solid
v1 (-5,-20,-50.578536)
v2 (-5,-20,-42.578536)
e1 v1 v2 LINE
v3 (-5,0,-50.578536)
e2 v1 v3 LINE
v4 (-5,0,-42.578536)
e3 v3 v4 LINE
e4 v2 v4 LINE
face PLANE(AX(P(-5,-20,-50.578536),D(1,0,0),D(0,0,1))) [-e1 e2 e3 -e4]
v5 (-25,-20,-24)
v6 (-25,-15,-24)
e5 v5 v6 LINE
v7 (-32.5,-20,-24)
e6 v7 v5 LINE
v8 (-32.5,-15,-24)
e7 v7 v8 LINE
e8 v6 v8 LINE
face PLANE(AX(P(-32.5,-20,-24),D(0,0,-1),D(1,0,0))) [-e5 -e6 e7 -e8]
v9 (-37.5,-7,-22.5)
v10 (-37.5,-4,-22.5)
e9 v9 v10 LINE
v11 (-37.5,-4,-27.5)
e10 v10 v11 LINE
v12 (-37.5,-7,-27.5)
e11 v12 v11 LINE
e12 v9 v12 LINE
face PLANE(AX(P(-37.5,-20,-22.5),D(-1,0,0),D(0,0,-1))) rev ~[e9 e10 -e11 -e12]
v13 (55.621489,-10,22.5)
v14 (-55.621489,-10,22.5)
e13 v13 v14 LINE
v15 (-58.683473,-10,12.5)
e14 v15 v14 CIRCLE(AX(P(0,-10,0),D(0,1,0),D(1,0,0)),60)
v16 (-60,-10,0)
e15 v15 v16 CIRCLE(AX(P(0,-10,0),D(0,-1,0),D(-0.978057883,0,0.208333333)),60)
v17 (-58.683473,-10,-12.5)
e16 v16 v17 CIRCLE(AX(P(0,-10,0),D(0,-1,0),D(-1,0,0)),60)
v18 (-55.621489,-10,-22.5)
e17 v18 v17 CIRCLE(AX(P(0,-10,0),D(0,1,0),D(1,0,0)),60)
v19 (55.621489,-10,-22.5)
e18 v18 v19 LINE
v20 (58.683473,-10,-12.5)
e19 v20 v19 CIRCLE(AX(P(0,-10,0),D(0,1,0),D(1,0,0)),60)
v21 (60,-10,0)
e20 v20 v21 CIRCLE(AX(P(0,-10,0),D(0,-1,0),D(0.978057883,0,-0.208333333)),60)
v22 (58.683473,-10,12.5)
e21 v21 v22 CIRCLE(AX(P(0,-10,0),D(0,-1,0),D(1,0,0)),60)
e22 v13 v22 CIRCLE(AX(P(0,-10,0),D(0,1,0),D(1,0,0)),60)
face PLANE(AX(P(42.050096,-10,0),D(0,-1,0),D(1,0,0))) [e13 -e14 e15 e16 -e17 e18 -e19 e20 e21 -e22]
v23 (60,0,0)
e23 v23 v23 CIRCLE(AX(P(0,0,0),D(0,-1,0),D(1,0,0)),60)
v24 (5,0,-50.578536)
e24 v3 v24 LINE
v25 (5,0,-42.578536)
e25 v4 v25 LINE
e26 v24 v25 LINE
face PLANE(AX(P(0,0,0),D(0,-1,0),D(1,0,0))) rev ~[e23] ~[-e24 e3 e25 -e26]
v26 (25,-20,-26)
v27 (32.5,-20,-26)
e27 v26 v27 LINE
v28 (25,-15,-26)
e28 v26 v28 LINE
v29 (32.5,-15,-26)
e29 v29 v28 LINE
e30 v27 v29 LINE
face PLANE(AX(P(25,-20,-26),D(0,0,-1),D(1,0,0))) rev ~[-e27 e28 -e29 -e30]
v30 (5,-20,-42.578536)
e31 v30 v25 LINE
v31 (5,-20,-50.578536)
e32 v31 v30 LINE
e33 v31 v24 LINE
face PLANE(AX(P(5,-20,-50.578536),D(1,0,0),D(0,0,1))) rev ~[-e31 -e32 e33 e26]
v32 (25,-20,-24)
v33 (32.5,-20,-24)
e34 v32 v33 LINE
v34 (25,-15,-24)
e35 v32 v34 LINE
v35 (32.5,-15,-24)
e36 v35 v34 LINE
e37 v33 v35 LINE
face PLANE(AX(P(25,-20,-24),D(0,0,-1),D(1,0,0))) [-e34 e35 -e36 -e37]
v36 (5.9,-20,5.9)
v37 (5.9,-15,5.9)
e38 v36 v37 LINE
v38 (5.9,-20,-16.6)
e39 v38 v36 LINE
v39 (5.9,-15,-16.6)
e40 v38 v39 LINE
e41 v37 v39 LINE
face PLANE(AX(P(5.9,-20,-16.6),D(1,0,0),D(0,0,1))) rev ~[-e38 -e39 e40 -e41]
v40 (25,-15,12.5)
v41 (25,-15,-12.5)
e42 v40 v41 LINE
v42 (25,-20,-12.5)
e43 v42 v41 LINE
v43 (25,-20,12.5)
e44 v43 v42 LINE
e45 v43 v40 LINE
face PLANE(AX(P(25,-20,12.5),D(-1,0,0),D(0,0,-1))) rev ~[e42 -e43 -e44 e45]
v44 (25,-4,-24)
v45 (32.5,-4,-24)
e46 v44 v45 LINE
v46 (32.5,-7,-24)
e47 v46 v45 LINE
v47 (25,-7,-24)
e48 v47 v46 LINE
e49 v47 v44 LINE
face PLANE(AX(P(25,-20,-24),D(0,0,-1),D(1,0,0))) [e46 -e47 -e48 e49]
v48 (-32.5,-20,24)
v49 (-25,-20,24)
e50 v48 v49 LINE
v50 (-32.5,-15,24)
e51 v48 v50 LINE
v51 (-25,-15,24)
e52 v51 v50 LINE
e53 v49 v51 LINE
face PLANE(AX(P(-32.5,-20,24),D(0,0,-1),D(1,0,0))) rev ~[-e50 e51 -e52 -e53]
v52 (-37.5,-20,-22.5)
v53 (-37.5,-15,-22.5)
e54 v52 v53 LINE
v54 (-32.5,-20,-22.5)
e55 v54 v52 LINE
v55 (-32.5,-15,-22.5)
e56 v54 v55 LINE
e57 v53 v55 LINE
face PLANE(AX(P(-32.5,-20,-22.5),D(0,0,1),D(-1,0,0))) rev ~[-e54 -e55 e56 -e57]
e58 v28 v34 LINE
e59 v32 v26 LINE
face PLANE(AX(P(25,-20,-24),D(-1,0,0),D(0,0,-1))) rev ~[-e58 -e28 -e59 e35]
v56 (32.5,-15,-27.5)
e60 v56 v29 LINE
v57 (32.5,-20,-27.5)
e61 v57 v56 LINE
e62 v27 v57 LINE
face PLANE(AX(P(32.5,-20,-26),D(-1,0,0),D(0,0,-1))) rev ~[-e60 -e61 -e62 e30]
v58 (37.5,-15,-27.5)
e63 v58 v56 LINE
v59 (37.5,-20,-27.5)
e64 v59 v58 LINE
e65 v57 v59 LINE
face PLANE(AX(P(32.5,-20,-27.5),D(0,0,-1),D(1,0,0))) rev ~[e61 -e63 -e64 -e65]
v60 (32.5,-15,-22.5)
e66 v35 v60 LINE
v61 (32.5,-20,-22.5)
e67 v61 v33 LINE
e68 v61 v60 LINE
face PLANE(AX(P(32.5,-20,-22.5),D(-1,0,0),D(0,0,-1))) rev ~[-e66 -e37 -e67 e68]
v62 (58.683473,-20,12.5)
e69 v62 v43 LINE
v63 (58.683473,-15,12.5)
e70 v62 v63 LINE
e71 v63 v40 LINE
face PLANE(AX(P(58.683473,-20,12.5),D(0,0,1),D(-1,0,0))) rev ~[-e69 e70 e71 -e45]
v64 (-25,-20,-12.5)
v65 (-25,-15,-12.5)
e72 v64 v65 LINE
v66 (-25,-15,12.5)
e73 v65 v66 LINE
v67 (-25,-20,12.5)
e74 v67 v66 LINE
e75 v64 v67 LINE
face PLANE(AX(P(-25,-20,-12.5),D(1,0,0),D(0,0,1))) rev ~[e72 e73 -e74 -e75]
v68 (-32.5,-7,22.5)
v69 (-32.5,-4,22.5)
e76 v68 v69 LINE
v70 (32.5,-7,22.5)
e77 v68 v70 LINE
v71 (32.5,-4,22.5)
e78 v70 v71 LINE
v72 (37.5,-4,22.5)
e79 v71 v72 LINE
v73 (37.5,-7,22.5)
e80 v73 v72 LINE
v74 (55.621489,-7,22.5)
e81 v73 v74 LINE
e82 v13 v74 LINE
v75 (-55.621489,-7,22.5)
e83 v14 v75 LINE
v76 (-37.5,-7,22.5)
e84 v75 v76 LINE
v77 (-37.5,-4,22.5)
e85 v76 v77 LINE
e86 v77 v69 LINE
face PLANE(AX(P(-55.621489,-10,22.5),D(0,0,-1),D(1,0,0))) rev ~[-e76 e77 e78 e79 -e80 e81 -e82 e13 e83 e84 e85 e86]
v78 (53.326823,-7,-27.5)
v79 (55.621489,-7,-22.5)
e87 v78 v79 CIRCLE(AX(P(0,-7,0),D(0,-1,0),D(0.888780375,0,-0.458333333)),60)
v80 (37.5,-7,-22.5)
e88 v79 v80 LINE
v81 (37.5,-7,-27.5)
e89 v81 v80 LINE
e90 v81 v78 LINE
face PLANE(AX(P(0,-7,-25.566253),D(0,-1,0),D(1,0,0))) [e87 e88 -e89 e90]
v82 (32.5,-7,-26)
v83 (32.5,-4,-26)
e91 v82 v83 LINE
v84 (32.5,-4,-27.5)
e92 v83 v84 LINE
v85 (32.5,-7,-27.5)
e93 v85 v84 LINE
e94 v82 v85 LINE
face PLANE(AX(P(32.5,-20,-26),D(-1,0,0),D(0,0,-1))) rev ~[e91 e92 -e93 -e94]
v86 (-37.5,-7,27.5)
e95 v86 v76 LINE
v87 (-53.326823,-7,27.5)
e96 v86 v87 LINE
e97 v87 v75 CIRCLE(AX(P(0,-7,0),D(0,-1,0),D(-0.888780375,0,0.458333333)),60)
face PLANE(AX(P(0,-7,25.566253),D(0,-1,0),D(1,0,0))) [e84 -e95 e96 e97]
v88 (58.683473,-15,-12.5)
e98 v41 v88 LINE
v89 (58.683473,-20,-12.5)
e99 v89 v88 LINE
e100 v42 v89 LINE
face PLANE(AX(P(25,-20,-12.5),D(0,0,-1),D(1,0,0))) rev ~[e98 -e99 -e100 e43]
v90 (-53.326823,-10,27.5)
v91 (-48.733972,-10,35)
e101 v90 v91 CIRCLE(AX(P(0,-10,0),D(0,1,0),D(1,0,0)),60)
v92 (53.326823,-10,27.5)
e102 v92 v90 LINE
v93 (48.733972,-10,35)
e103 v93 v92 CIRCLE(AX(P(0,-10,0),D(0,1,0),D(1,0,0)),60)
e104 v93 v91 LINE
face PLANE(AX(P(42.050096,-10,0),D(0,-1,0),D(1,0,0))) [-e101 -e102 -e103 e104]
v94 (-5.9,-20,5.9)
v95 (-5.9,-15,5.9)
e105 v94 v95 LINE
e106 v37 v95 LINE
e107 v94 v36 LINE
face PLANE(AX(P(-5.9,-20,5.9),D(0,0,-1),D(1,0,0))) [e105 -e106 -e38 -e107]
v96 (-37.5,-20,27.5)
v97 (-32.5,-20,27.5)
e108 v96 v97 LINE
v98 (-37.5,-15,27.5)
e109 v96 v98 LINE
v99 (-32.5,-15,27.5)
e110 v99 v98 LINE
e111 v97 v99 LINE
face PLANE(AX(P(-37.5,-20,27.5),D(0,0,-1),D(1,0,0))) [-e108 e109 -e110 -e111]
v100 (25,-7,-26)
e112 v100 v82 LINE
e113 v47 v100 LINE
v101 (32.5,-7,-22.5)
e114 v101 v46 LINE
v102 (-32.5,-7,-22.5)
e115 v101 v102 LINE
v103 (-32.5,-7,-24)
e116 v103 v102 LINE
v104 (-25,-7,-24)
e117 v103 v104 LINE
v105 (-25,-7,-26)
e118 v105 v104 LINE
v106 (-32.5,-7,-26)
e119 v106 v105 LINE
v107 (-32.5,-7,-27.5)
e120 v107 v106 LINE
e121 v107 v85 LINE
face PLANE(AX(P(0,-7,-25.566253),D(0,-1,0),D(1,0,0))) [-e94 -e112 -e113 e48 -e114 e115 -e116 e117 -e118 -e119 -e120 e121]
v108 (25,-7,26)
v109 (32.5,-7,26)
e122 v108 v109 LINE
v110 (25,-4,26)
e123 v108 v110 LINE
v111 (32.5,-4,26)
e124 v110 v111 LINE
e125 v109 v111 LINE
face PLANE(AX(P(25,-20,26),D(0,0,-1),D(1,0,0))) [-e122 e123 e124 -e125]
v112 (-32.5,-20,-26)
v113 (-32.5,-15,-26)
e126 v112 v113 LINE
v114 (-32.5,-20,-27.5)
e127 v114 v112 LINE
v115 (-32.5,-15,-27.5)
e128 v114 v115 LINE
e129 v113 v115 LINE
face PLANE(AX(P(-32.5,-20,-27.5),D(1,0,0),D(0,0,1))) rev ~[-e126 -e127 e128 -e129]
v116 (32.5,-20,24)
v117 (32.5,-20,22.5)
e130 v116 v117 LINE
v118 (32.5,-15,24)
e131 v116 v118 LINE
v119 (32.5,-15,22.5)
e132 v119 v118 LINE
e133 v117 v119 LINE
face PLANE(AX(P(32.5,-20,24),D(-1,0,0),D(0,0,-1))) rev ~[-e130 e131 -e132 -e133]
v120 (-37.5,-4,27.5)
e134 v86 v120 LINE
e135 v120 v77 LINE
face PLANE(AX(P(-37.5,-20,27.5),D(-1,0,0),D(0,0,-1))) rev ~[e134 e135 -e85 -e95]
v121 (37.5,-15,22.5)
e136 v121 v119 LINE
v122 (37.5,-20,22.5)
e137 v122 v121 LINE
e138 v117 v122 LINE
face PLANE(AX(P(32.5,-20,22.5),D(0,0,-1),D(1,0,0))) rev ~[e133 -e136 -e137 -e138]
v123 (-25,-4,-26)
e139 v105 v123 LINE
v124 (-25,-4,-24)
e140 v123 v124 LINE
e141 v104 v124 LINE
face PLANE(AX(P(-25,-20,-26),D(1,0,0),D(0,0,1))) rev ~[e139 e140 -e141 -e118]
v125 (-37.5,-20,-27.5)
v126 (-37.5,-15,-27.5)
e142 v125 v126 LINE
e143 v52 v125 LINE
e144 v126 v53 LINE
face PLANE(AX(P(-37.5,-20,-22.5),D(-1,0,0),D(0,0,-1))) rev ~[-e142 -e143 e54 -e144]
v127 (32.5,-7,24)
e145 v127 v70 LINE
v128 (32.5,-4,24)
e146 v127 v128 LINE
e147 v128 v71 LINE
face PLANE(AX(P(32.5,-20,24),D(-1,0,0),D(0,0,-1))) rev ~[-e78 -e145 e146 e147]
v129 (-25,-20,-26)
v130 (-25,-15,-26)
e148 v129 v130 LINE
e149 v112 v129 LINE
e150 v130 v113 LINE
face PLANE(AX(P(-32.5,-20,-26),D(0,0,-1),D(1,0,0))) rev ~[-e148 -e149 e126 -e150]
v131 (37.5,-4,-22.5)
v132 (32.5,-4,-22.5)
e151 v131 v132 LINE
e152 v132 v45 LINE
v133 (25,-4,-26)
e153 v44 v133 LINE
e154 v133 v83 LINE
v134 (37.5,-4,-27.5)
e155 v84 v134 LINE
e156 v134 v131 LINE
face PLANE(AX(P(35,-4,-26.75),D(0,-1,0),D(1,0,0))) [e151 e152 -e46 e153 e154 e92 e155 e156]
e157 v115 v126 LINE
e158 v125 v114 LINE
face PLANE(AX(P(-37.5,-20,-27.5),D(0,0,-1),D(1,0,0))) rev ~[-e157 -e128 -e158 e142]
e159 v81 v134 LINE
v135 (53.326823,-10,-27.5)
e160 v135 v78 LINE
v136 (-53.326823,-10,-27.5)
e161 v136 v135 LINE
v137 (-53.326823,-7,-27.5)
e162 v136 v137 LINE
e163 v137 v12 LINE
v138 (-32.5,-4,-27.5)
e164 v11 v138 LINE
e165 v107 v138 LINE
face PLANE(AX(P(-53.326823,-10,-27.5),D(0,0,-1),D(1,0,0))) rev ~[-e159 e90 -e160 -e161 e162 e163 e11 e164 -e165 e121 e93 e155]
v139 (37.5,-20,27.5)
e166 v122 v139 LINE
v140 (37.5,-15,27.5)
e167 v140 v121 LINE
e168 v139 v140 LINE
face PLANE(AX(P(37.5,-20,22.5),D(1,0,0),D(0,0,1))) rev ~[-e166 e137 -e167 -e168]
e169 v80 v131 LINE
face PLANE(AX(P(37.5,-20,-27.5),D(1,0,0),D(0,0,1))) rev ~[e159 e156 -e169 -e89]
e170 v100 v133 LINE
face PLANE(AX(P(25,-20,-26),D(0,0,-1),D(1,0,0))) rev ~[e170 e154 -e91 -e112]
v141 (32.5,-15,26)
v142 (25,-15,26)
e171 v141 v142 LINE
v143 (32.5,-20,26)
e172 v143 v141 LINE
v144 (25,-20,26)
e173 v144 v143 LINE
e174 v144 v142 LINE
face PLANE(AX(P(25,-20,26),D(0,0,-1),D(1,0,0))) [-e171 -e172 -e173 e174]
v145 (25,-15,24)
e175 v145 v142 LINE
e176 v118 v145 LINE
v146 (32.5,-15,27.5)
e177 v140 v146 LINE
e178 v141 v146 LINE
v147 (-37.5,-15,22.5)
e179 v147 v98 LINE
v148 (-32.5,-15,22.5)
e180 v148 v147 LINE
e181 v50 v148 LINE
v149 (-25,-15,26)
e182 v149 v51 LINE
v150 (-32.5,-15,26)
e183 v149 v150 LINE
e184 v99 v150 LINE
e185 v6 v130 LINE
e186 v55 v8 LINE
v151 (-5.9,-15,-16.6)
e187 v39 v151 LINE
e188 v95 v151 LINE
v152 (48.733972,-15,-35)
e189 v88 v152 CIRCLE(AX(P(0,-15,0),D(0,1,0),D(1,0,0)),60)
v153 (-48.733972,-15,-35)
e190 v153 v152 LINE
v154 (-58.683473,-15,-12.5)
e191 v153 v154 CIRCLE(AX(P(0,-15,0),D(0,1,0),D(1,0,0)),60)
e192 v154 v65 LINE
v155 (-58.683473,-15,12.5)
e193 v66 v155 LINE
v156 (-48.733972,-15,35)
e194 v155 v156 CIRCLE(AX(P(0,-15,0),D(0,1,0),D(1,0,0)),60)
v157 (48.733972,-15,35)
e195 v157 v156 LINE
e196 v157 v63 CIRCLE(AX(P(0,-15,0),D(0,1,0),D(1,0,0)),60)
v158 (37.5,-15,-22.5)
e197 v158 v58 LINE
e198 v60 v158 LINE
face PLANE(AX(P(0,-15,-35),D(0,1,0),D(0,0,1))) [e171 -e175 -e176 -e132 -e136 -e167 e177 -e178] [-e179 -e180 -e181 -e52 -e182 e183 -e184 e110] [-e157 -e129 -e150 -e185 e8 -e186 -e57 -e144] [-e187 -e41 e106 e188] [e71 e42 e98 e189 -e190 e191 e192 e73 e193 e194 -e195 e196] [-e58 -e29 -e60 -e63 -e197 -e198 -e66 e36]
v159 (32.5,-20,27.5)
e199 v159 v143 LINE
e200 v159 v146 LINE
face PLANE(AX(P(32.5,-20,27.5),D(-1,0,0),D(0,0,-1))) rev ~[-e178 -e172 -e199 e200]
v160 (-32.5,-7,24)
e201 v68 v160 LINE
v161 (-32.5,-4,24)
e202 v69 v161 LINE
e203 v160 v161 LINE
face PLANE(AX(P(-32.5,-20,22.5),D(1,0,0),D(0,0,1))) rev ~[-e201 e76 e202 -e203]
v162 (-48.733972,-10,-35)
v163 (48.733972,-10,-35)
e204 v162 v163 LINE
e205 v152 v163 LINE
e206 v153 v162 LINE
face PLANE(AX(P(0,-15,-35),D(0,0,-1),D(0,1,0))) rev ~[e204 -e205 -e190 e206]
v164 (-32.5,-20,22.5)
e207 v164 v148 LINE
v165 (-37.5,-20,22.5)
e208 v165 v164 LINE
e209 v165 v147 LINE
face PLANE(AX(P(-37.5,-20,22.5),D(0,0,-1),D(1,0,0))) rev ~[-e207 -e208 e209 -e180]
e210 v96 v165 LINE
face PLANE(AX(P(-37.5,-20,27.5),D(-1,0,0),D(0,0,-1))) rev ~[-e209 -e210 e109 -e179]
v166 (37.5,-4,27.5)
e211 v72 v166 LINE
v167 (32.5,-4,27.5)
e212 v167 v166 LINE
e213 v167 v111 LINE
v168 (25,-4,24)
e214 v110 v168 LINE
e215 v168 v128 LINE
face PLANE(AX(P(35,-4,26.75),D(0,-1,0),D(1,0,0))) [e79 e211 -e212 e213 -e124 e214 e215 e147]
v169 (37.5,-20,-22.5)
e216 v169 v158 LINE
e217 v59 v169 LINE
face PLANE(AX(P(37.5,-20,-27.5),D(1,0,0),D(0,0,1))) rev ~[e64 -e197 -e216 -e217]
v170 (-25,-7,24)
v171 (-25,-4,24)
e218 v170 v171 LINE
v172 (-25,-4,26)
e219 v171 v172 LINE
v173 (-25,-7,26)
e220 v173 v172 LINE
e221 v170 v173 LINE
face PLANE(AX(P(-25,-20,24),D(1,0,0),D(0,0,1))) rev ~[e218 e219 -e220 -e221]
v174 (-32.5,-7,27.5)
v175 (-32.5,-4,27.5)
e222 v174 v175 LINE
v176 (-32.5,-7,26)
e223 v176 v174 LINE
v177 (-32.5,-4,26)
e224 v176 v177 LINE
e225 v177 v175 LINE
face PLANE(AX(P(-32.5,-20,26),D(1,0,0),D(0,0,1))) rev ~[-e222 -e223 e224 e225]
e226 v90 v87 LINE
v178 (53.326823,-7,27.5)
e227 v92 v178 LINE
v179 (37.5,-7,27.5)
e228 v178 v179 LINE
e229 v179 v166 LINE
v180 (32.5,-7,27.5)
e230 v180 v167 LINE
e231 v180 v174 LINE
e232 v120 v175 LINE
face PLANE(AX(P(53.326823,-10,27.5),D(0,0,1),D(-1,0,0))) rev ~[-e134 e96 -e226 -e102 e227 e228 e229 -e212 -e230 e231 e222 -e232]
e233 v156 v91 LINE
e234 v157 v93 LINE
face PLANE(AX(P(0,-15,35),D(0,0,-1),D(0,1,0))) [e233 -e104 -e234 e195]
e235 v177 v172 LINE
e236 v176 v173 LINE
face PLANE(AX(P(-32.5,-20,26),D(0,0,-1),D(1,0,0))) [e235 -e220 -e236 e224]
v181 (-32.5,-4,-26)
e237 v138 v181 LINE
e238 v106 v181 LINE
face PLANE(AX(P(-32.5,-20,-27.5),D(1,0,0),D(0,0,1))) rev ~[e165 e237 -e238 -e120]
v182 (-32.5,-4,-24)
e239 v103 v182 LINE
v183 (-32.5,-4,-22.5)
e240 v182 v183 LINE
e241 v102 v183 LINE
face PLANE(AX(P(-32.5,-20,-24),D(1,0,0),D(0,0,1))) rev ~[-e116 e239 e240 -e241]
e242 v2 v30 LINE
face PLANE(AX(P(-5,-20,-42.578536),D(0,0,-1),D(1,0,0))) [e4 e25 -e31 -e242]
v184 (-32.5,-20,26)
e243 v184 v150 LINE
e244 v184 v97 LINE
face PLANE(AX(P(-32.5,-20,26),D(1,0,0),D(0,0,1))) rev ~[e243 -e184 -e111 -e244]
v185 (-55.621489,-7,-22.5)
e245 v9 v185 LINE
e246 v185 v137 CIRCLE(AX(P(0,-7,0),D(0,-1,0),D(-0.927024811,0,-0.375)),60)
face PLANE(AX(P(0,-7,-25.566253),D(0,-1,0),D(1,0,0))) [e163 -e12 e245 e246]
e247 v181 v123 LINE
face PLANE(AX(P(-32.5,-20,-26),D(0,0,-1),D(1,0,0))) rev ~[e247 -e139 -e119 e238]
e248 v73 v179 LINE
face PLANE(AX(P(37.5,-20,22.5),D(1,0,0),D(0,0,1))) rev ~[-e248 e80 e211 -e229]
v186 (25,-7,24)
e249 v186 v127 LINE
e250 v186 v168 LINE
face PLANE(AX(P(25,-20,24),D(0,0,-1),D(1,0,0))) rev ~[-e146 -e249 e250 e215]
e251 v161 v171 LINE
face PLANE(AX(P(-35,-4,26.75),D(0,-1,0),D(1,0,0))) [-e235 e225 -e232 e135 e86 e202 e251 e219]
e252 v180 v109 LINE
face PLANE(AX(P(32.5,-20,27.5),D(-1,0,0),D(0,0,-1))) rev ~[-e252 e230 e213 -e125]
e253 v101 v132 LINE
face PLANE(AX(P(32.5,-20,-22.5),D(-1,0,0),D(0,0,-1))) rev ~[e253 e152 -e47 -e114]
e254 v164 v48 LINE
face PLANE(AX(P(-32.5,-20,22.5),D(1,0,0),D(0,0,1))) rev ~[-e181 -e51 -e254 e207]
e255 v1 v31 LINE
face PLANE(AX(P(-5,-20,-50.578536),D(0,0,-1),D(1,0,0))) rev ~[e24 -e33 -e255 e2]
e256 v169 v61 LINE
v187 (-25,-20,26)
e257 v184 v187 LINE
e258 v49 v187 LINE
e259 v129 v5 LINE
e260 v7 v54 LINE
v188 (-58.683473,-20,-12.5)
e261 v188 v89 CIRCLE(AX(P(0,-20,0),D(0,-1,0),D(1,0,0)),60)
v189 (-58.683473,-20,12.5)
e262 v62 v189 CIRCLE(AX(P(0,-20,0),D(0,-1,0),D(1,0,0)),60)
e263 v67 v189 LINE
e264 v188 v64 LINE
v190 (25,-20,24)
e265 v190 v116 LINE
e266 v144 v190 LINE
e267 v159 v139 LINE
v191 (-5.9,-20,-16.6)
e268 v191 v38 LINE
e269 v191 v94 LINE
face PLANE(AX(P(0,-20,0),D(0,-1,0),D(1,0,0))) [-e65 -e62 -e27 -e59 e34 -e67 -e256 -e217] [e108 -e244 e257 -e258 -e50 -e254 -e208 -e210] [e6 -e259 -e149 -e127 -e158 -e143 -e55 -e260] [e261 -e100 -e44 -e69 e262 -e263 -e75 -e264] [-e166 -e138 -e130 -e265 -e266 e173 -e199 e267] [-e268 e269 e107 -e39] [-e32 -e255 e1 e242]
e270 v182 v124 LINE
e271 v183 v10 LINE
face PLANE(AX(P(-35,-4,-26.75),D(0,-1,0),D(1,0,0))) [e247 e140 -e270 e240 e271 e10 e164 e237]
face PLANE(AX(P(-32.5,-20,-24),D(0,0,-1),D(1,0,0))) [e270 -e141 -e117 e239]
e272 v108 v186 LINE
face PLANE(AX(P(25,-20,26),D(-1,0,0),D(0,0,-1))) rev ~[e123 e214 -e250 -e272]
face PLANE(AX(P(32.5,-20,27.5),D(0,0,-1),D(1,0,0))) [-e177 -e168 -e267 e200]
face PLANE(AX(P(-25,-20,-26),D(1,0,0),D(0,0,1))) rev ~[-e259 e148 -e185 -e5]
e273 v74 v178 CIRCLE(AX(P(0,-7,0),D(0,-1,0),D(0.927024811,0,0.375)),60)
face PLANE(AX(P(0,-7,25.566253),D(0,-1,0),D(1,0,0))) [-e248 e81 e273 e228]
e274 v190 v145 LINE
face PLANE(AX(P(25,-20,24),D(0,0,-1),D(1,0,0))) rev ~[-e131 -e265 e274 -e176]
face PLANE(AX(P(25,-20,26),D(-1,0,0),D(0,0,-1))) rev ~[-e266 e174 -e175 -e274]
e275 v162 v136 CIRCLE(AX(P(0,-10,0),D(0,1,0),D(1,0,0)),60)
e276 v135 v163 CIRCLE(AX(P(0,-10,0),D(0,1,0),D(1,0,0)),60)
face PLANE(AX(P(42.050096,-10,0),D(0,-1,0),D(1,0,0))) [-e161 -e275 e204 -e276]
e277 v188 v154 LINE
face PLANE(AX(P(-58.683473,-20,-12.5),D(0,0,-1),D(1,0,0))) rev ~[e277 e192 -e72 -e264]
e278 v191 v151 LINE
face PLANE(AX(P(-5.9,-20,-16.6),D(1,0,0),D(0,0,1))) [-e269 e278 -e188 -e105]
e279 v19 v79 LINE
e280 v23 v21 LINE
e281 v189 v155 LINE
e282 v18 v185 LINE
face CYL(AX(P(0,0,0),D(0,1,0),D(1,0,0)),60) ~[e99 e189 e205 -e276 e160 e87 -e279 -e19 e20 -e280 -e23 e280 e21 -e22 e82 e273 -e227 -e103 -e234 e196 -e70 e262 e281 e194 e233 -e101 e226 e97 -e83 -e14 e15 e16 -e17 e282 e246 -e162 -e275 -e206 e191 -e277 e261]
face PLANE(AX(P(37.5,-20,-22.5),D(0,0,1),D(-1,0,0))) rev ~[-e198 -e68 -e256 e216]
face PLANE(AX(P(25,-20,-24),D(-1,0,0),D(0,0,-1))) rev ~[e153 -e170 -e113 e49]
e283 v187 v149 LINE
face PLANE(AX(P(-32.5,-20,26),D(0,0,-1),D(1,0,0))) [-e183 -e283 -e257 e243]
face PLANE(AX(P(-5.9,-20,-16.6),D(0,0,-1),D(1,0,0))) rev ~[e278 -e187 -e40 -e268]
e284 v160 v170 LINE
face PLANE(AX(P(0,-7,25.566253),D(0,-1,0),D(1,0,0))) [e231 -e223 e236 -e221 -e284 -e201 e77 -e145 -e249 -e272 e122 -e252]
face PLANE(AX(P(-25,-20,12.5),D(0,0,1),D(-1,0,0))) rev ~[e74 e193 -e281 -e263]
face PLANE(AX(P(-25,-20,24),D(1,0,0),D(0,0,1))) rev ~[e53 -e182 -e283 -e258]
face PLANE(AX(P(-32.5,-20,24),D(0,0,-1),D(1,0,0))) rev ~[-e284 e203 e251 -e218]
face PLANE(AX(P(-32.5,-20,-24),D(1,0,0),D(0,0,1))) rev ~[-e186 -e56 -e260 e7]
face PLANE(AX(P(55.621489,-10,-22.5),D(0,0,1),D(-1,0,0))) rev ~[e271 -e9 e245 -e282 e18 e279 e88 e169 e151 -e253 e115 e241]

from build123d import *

# Parameters (mm, degrees)
F0_R      = 60
F1_DEPTH  = 20
F3_DEPTH  = 10
F4_W      = 5
F4_H      = 70
F5_DEPTH  = 60
F7_DEPTH  = 3
F8_W      = 11.8
F8_H      = 22.5
F9_DEPTH  = 6
F10_W     = 5
F10_H     = 1.5
F10_W_2   = 2.5
F10_H_2   = 1
F10_W_3   = 7.5
F11_DEPTH = 16
F12_W     = 10
F12_H     = 8
F13_DEPTH = 20.001


with BuildPart() as f1:
    # F0 (on Front) → F1 (new body)
    with BuildSketch(Plane.XZ):
        Circle(F0_R)
    extrude(amount=F1_DEPTH)

    # F2 (on face) → F3 (cut)
    with BuildSketch(Plane.XZ.offset(20)):
        with BuildLine():
            Line((-25, -12.5), (-25, 12.5))
            Line((-25, 12.5), (-58.6834729715, 12.5))
            ThreePointArc((-58.6834729715, 12.5), (-59.6699605258, 6.2845692656), (-60, 0))
            ThreePointArc((-60, 0), (-59.6699605258, -6.2845692656), (-58.6834729715, -12.5))
            Line((-58.6834729715, -12.5), (-25, -12.5))
        make_face()
        with BuildLine():
            Line((58.6834729715, 12.5), (25, 12.5))
            Line((25, 12.5), (25, -12.5))
            Line((25, -12.5), (58.6834729715, -12.5))
            ThreePointArc((58.6834729715, -12.5), (59.6699605258, -6.2845692656), (60, 0))
            ThreePointArc((60, 0), (59.6699605258, 6.2845692656), (58.6834729715, 12.5))
        make_face()
    extrude(amount=-F3_DEPTH, mode=Mode.SUBTRACT)

    # F4 (on Right) → F5 (cut, symmetric)
    with BuildSketch(Plane.YZ):
        with Locations((-12.5, 0)):
            Rectangle(F4_W, F4_H)
    extrude(amount=F5_DEPTH, both=True, mode=Mode.SUBTRACT)

    # F6 (on face) → F7 (cut)
    with BuildSketch(Plane.XZ.offset(10)):
        with BuildLine():
            Line((30, -22.5), (30, -25))
            Line((30, -25), (-30, -25))
            Line((-30, -25), (-30, -22.5))
            Line((-30, -22.5), (-55.6214886532, -22.5))
            ThreePointArc((-55.6214886532, -22.5), (-54.531492065, -25.0263136152), (-53.3268225193, -27.5))
            Line((-53.3268225193, -27.5), (0, -27.5))
            Line((0, -27.5), (53.3268225193, -27.5))
            ThreePointArc((53.3268225193, -27.5), (54.531492065, -25.0263136152), (55.6214886532, -22.5))
            Line((55.6214886532, -22.5), (30, -22.5))
        make_face()
        with BuildLine():
            Line((30, 25), (30, 22.5))
            Line((30, 22.5), (55.6214886532, 22.5))
            ThreePointArc((55.6214886532, 22.5), (54.531492065, 25.0263136152), (53.3268225193, 27.5))
            Line((53.3268225193, 27.5), (0, 27.5))
            Line((0, 27.5), (-53.3268225193, 27.5))
            ThreePointArc((-53.3268225193, 27.5), (-54.531492065, 25.0263136152), (-55.6214886532, 22.5))
            Line((-55.6214886532, 22.5), (-30, 22.5))
            Line((-30, 22.5), (-30, 25))
            Line((-30, 25), (30, 25))
        make_face()
        Polygon((0, 22.5), (30, 22.5), (30, 25), (-30, 25), (-30, 22.5), align=None)
        Polygon((-30, -25), (30, -25), (30, -22.5), (0, -22.5), (-30, -22.5), align=None)
    extrude(amount=-F7_DEPTH, mode=Mode.SUBTRACT)

    # F8 (on face) → F9 (cut)
    with BuildSketch(Plane.XZ.offset(20)):
        with Locations((0, -5.35)):
            Rectangle(F8_W, F8_H)
    extrude(amount=-F9_DEPTH, mode=Mode.SUBTRACT)

    # F10 (on face) → F11 (cut)
    with BuildSketch(Plane.XZ.offset(20)):
        with Locations((-35, 26.75)):
            Rectangle(F10_W, F10_H)
        with Locations((-33.75, 24.5)):
            Rectangle(F10_W_2, F10_H_2)
        with Locations((35, 26.75)):
            Rectangle(F10_W, F10_H)
        with Locations((33.75, 24.5)):
            Rectangle(F10_W_2, F10_H_2)
        with Locations((35, -26.75)):
            Rectangle(F10_W, F10_H)
        with Locations((33.75, -24.5)):
            Rectangle(F10_W_2, F10_H_2)
        with Locations((-35, -26.75)):
            Rectangle(F10_W, F10_H)
        with Locations((-33.75, -24.5)):
            Rectangle(F10_W_2, F10_H_2)
        Polygon((32.5, 25), (35, 25), (35, 24), (37.5, 24), (37.5, 26), (32.5, 26), align=None)
        with Locations((36.25, 23.25)):
            Rectangle(F10_W_2, F10_H)
        with Locations((33.75, 23.25)):
            Rectangle(F10_W_2, F10_H)
        with Locations((28.75, 24.5)):
            Rectangle(F10_W_3, F10_H_2)
        with Locations((28.75, 25.5)):
            Rectangle(F10_W_3, F10_H_2)
        Polygon((-35, -25), (-35, -24), (-37.5, -24), (-37.5, -26), (-32.5, -26), (-32.5, -25), align=None)
        with Locations((-33.75, -23.25)):
            Rectangle(F10_W_2, F10_H)
        with Locations((-36.25, -23.25)):
            Rectangle(F10_W_2, F10_H)
        with Locations((-28.75, -24.5)):
            Rectangle(F10_W_3, F10_H_2)
        with Locations((-28.75, -25.5)):
            Rectangle(F10_W_3, F10_H_2)
        Polygon((37.5, -24), (35, -24), (35, -25), (32.5, -25), (32.5, -26), (37.5, -26), align=None)
        with Locations((36.25, -23.25)):
            Rectangle(F10_W_2, F10_H)
        with Locations((33.75, -23.25)):
            Rectangle(F10_W_2, F10_H)
        Polygon((-35, 25), (-32.5, 25), (-32.5, 26), (-37.5, 26), (-37.5, 24), (-35, 24), align=None)
        with Locations((-36.25, 23.25)):
            Rectangle(F10_W_2, F10_H)
        with Locations((-33.75, 23.25)):
            Rectangle(F10_W_2, F10_H)
        with Locations((-28.75, 25.5)):
            Rectangle(F10_W_3, F10_H_2)
        with Locations((-28.75, 24.5)):
            Rectangle(F10_W_3, F10_H_2)
        with Locations((28.75, -25.5)):
            Rectangle(F10_W_3, F10_H_2)
        with Locations((28.75, -24.5)):
            Rectangle(F10_W_3, F10_H_2)
    extrude(amount=-F11_DEPTH, mode=Mode.SUBTRACT)

    # F12 (on face) → F13 (cut, through all)
    with BuildSketch(Plane.XZ.offset(20)):
        with Locations((0, -46.5785360177)):
            Rectangle(F12_W, F12_H)
    extrude(amount=-F13_DEPTH, mode=Mode.SUBTRACT)


solid = f1.part
